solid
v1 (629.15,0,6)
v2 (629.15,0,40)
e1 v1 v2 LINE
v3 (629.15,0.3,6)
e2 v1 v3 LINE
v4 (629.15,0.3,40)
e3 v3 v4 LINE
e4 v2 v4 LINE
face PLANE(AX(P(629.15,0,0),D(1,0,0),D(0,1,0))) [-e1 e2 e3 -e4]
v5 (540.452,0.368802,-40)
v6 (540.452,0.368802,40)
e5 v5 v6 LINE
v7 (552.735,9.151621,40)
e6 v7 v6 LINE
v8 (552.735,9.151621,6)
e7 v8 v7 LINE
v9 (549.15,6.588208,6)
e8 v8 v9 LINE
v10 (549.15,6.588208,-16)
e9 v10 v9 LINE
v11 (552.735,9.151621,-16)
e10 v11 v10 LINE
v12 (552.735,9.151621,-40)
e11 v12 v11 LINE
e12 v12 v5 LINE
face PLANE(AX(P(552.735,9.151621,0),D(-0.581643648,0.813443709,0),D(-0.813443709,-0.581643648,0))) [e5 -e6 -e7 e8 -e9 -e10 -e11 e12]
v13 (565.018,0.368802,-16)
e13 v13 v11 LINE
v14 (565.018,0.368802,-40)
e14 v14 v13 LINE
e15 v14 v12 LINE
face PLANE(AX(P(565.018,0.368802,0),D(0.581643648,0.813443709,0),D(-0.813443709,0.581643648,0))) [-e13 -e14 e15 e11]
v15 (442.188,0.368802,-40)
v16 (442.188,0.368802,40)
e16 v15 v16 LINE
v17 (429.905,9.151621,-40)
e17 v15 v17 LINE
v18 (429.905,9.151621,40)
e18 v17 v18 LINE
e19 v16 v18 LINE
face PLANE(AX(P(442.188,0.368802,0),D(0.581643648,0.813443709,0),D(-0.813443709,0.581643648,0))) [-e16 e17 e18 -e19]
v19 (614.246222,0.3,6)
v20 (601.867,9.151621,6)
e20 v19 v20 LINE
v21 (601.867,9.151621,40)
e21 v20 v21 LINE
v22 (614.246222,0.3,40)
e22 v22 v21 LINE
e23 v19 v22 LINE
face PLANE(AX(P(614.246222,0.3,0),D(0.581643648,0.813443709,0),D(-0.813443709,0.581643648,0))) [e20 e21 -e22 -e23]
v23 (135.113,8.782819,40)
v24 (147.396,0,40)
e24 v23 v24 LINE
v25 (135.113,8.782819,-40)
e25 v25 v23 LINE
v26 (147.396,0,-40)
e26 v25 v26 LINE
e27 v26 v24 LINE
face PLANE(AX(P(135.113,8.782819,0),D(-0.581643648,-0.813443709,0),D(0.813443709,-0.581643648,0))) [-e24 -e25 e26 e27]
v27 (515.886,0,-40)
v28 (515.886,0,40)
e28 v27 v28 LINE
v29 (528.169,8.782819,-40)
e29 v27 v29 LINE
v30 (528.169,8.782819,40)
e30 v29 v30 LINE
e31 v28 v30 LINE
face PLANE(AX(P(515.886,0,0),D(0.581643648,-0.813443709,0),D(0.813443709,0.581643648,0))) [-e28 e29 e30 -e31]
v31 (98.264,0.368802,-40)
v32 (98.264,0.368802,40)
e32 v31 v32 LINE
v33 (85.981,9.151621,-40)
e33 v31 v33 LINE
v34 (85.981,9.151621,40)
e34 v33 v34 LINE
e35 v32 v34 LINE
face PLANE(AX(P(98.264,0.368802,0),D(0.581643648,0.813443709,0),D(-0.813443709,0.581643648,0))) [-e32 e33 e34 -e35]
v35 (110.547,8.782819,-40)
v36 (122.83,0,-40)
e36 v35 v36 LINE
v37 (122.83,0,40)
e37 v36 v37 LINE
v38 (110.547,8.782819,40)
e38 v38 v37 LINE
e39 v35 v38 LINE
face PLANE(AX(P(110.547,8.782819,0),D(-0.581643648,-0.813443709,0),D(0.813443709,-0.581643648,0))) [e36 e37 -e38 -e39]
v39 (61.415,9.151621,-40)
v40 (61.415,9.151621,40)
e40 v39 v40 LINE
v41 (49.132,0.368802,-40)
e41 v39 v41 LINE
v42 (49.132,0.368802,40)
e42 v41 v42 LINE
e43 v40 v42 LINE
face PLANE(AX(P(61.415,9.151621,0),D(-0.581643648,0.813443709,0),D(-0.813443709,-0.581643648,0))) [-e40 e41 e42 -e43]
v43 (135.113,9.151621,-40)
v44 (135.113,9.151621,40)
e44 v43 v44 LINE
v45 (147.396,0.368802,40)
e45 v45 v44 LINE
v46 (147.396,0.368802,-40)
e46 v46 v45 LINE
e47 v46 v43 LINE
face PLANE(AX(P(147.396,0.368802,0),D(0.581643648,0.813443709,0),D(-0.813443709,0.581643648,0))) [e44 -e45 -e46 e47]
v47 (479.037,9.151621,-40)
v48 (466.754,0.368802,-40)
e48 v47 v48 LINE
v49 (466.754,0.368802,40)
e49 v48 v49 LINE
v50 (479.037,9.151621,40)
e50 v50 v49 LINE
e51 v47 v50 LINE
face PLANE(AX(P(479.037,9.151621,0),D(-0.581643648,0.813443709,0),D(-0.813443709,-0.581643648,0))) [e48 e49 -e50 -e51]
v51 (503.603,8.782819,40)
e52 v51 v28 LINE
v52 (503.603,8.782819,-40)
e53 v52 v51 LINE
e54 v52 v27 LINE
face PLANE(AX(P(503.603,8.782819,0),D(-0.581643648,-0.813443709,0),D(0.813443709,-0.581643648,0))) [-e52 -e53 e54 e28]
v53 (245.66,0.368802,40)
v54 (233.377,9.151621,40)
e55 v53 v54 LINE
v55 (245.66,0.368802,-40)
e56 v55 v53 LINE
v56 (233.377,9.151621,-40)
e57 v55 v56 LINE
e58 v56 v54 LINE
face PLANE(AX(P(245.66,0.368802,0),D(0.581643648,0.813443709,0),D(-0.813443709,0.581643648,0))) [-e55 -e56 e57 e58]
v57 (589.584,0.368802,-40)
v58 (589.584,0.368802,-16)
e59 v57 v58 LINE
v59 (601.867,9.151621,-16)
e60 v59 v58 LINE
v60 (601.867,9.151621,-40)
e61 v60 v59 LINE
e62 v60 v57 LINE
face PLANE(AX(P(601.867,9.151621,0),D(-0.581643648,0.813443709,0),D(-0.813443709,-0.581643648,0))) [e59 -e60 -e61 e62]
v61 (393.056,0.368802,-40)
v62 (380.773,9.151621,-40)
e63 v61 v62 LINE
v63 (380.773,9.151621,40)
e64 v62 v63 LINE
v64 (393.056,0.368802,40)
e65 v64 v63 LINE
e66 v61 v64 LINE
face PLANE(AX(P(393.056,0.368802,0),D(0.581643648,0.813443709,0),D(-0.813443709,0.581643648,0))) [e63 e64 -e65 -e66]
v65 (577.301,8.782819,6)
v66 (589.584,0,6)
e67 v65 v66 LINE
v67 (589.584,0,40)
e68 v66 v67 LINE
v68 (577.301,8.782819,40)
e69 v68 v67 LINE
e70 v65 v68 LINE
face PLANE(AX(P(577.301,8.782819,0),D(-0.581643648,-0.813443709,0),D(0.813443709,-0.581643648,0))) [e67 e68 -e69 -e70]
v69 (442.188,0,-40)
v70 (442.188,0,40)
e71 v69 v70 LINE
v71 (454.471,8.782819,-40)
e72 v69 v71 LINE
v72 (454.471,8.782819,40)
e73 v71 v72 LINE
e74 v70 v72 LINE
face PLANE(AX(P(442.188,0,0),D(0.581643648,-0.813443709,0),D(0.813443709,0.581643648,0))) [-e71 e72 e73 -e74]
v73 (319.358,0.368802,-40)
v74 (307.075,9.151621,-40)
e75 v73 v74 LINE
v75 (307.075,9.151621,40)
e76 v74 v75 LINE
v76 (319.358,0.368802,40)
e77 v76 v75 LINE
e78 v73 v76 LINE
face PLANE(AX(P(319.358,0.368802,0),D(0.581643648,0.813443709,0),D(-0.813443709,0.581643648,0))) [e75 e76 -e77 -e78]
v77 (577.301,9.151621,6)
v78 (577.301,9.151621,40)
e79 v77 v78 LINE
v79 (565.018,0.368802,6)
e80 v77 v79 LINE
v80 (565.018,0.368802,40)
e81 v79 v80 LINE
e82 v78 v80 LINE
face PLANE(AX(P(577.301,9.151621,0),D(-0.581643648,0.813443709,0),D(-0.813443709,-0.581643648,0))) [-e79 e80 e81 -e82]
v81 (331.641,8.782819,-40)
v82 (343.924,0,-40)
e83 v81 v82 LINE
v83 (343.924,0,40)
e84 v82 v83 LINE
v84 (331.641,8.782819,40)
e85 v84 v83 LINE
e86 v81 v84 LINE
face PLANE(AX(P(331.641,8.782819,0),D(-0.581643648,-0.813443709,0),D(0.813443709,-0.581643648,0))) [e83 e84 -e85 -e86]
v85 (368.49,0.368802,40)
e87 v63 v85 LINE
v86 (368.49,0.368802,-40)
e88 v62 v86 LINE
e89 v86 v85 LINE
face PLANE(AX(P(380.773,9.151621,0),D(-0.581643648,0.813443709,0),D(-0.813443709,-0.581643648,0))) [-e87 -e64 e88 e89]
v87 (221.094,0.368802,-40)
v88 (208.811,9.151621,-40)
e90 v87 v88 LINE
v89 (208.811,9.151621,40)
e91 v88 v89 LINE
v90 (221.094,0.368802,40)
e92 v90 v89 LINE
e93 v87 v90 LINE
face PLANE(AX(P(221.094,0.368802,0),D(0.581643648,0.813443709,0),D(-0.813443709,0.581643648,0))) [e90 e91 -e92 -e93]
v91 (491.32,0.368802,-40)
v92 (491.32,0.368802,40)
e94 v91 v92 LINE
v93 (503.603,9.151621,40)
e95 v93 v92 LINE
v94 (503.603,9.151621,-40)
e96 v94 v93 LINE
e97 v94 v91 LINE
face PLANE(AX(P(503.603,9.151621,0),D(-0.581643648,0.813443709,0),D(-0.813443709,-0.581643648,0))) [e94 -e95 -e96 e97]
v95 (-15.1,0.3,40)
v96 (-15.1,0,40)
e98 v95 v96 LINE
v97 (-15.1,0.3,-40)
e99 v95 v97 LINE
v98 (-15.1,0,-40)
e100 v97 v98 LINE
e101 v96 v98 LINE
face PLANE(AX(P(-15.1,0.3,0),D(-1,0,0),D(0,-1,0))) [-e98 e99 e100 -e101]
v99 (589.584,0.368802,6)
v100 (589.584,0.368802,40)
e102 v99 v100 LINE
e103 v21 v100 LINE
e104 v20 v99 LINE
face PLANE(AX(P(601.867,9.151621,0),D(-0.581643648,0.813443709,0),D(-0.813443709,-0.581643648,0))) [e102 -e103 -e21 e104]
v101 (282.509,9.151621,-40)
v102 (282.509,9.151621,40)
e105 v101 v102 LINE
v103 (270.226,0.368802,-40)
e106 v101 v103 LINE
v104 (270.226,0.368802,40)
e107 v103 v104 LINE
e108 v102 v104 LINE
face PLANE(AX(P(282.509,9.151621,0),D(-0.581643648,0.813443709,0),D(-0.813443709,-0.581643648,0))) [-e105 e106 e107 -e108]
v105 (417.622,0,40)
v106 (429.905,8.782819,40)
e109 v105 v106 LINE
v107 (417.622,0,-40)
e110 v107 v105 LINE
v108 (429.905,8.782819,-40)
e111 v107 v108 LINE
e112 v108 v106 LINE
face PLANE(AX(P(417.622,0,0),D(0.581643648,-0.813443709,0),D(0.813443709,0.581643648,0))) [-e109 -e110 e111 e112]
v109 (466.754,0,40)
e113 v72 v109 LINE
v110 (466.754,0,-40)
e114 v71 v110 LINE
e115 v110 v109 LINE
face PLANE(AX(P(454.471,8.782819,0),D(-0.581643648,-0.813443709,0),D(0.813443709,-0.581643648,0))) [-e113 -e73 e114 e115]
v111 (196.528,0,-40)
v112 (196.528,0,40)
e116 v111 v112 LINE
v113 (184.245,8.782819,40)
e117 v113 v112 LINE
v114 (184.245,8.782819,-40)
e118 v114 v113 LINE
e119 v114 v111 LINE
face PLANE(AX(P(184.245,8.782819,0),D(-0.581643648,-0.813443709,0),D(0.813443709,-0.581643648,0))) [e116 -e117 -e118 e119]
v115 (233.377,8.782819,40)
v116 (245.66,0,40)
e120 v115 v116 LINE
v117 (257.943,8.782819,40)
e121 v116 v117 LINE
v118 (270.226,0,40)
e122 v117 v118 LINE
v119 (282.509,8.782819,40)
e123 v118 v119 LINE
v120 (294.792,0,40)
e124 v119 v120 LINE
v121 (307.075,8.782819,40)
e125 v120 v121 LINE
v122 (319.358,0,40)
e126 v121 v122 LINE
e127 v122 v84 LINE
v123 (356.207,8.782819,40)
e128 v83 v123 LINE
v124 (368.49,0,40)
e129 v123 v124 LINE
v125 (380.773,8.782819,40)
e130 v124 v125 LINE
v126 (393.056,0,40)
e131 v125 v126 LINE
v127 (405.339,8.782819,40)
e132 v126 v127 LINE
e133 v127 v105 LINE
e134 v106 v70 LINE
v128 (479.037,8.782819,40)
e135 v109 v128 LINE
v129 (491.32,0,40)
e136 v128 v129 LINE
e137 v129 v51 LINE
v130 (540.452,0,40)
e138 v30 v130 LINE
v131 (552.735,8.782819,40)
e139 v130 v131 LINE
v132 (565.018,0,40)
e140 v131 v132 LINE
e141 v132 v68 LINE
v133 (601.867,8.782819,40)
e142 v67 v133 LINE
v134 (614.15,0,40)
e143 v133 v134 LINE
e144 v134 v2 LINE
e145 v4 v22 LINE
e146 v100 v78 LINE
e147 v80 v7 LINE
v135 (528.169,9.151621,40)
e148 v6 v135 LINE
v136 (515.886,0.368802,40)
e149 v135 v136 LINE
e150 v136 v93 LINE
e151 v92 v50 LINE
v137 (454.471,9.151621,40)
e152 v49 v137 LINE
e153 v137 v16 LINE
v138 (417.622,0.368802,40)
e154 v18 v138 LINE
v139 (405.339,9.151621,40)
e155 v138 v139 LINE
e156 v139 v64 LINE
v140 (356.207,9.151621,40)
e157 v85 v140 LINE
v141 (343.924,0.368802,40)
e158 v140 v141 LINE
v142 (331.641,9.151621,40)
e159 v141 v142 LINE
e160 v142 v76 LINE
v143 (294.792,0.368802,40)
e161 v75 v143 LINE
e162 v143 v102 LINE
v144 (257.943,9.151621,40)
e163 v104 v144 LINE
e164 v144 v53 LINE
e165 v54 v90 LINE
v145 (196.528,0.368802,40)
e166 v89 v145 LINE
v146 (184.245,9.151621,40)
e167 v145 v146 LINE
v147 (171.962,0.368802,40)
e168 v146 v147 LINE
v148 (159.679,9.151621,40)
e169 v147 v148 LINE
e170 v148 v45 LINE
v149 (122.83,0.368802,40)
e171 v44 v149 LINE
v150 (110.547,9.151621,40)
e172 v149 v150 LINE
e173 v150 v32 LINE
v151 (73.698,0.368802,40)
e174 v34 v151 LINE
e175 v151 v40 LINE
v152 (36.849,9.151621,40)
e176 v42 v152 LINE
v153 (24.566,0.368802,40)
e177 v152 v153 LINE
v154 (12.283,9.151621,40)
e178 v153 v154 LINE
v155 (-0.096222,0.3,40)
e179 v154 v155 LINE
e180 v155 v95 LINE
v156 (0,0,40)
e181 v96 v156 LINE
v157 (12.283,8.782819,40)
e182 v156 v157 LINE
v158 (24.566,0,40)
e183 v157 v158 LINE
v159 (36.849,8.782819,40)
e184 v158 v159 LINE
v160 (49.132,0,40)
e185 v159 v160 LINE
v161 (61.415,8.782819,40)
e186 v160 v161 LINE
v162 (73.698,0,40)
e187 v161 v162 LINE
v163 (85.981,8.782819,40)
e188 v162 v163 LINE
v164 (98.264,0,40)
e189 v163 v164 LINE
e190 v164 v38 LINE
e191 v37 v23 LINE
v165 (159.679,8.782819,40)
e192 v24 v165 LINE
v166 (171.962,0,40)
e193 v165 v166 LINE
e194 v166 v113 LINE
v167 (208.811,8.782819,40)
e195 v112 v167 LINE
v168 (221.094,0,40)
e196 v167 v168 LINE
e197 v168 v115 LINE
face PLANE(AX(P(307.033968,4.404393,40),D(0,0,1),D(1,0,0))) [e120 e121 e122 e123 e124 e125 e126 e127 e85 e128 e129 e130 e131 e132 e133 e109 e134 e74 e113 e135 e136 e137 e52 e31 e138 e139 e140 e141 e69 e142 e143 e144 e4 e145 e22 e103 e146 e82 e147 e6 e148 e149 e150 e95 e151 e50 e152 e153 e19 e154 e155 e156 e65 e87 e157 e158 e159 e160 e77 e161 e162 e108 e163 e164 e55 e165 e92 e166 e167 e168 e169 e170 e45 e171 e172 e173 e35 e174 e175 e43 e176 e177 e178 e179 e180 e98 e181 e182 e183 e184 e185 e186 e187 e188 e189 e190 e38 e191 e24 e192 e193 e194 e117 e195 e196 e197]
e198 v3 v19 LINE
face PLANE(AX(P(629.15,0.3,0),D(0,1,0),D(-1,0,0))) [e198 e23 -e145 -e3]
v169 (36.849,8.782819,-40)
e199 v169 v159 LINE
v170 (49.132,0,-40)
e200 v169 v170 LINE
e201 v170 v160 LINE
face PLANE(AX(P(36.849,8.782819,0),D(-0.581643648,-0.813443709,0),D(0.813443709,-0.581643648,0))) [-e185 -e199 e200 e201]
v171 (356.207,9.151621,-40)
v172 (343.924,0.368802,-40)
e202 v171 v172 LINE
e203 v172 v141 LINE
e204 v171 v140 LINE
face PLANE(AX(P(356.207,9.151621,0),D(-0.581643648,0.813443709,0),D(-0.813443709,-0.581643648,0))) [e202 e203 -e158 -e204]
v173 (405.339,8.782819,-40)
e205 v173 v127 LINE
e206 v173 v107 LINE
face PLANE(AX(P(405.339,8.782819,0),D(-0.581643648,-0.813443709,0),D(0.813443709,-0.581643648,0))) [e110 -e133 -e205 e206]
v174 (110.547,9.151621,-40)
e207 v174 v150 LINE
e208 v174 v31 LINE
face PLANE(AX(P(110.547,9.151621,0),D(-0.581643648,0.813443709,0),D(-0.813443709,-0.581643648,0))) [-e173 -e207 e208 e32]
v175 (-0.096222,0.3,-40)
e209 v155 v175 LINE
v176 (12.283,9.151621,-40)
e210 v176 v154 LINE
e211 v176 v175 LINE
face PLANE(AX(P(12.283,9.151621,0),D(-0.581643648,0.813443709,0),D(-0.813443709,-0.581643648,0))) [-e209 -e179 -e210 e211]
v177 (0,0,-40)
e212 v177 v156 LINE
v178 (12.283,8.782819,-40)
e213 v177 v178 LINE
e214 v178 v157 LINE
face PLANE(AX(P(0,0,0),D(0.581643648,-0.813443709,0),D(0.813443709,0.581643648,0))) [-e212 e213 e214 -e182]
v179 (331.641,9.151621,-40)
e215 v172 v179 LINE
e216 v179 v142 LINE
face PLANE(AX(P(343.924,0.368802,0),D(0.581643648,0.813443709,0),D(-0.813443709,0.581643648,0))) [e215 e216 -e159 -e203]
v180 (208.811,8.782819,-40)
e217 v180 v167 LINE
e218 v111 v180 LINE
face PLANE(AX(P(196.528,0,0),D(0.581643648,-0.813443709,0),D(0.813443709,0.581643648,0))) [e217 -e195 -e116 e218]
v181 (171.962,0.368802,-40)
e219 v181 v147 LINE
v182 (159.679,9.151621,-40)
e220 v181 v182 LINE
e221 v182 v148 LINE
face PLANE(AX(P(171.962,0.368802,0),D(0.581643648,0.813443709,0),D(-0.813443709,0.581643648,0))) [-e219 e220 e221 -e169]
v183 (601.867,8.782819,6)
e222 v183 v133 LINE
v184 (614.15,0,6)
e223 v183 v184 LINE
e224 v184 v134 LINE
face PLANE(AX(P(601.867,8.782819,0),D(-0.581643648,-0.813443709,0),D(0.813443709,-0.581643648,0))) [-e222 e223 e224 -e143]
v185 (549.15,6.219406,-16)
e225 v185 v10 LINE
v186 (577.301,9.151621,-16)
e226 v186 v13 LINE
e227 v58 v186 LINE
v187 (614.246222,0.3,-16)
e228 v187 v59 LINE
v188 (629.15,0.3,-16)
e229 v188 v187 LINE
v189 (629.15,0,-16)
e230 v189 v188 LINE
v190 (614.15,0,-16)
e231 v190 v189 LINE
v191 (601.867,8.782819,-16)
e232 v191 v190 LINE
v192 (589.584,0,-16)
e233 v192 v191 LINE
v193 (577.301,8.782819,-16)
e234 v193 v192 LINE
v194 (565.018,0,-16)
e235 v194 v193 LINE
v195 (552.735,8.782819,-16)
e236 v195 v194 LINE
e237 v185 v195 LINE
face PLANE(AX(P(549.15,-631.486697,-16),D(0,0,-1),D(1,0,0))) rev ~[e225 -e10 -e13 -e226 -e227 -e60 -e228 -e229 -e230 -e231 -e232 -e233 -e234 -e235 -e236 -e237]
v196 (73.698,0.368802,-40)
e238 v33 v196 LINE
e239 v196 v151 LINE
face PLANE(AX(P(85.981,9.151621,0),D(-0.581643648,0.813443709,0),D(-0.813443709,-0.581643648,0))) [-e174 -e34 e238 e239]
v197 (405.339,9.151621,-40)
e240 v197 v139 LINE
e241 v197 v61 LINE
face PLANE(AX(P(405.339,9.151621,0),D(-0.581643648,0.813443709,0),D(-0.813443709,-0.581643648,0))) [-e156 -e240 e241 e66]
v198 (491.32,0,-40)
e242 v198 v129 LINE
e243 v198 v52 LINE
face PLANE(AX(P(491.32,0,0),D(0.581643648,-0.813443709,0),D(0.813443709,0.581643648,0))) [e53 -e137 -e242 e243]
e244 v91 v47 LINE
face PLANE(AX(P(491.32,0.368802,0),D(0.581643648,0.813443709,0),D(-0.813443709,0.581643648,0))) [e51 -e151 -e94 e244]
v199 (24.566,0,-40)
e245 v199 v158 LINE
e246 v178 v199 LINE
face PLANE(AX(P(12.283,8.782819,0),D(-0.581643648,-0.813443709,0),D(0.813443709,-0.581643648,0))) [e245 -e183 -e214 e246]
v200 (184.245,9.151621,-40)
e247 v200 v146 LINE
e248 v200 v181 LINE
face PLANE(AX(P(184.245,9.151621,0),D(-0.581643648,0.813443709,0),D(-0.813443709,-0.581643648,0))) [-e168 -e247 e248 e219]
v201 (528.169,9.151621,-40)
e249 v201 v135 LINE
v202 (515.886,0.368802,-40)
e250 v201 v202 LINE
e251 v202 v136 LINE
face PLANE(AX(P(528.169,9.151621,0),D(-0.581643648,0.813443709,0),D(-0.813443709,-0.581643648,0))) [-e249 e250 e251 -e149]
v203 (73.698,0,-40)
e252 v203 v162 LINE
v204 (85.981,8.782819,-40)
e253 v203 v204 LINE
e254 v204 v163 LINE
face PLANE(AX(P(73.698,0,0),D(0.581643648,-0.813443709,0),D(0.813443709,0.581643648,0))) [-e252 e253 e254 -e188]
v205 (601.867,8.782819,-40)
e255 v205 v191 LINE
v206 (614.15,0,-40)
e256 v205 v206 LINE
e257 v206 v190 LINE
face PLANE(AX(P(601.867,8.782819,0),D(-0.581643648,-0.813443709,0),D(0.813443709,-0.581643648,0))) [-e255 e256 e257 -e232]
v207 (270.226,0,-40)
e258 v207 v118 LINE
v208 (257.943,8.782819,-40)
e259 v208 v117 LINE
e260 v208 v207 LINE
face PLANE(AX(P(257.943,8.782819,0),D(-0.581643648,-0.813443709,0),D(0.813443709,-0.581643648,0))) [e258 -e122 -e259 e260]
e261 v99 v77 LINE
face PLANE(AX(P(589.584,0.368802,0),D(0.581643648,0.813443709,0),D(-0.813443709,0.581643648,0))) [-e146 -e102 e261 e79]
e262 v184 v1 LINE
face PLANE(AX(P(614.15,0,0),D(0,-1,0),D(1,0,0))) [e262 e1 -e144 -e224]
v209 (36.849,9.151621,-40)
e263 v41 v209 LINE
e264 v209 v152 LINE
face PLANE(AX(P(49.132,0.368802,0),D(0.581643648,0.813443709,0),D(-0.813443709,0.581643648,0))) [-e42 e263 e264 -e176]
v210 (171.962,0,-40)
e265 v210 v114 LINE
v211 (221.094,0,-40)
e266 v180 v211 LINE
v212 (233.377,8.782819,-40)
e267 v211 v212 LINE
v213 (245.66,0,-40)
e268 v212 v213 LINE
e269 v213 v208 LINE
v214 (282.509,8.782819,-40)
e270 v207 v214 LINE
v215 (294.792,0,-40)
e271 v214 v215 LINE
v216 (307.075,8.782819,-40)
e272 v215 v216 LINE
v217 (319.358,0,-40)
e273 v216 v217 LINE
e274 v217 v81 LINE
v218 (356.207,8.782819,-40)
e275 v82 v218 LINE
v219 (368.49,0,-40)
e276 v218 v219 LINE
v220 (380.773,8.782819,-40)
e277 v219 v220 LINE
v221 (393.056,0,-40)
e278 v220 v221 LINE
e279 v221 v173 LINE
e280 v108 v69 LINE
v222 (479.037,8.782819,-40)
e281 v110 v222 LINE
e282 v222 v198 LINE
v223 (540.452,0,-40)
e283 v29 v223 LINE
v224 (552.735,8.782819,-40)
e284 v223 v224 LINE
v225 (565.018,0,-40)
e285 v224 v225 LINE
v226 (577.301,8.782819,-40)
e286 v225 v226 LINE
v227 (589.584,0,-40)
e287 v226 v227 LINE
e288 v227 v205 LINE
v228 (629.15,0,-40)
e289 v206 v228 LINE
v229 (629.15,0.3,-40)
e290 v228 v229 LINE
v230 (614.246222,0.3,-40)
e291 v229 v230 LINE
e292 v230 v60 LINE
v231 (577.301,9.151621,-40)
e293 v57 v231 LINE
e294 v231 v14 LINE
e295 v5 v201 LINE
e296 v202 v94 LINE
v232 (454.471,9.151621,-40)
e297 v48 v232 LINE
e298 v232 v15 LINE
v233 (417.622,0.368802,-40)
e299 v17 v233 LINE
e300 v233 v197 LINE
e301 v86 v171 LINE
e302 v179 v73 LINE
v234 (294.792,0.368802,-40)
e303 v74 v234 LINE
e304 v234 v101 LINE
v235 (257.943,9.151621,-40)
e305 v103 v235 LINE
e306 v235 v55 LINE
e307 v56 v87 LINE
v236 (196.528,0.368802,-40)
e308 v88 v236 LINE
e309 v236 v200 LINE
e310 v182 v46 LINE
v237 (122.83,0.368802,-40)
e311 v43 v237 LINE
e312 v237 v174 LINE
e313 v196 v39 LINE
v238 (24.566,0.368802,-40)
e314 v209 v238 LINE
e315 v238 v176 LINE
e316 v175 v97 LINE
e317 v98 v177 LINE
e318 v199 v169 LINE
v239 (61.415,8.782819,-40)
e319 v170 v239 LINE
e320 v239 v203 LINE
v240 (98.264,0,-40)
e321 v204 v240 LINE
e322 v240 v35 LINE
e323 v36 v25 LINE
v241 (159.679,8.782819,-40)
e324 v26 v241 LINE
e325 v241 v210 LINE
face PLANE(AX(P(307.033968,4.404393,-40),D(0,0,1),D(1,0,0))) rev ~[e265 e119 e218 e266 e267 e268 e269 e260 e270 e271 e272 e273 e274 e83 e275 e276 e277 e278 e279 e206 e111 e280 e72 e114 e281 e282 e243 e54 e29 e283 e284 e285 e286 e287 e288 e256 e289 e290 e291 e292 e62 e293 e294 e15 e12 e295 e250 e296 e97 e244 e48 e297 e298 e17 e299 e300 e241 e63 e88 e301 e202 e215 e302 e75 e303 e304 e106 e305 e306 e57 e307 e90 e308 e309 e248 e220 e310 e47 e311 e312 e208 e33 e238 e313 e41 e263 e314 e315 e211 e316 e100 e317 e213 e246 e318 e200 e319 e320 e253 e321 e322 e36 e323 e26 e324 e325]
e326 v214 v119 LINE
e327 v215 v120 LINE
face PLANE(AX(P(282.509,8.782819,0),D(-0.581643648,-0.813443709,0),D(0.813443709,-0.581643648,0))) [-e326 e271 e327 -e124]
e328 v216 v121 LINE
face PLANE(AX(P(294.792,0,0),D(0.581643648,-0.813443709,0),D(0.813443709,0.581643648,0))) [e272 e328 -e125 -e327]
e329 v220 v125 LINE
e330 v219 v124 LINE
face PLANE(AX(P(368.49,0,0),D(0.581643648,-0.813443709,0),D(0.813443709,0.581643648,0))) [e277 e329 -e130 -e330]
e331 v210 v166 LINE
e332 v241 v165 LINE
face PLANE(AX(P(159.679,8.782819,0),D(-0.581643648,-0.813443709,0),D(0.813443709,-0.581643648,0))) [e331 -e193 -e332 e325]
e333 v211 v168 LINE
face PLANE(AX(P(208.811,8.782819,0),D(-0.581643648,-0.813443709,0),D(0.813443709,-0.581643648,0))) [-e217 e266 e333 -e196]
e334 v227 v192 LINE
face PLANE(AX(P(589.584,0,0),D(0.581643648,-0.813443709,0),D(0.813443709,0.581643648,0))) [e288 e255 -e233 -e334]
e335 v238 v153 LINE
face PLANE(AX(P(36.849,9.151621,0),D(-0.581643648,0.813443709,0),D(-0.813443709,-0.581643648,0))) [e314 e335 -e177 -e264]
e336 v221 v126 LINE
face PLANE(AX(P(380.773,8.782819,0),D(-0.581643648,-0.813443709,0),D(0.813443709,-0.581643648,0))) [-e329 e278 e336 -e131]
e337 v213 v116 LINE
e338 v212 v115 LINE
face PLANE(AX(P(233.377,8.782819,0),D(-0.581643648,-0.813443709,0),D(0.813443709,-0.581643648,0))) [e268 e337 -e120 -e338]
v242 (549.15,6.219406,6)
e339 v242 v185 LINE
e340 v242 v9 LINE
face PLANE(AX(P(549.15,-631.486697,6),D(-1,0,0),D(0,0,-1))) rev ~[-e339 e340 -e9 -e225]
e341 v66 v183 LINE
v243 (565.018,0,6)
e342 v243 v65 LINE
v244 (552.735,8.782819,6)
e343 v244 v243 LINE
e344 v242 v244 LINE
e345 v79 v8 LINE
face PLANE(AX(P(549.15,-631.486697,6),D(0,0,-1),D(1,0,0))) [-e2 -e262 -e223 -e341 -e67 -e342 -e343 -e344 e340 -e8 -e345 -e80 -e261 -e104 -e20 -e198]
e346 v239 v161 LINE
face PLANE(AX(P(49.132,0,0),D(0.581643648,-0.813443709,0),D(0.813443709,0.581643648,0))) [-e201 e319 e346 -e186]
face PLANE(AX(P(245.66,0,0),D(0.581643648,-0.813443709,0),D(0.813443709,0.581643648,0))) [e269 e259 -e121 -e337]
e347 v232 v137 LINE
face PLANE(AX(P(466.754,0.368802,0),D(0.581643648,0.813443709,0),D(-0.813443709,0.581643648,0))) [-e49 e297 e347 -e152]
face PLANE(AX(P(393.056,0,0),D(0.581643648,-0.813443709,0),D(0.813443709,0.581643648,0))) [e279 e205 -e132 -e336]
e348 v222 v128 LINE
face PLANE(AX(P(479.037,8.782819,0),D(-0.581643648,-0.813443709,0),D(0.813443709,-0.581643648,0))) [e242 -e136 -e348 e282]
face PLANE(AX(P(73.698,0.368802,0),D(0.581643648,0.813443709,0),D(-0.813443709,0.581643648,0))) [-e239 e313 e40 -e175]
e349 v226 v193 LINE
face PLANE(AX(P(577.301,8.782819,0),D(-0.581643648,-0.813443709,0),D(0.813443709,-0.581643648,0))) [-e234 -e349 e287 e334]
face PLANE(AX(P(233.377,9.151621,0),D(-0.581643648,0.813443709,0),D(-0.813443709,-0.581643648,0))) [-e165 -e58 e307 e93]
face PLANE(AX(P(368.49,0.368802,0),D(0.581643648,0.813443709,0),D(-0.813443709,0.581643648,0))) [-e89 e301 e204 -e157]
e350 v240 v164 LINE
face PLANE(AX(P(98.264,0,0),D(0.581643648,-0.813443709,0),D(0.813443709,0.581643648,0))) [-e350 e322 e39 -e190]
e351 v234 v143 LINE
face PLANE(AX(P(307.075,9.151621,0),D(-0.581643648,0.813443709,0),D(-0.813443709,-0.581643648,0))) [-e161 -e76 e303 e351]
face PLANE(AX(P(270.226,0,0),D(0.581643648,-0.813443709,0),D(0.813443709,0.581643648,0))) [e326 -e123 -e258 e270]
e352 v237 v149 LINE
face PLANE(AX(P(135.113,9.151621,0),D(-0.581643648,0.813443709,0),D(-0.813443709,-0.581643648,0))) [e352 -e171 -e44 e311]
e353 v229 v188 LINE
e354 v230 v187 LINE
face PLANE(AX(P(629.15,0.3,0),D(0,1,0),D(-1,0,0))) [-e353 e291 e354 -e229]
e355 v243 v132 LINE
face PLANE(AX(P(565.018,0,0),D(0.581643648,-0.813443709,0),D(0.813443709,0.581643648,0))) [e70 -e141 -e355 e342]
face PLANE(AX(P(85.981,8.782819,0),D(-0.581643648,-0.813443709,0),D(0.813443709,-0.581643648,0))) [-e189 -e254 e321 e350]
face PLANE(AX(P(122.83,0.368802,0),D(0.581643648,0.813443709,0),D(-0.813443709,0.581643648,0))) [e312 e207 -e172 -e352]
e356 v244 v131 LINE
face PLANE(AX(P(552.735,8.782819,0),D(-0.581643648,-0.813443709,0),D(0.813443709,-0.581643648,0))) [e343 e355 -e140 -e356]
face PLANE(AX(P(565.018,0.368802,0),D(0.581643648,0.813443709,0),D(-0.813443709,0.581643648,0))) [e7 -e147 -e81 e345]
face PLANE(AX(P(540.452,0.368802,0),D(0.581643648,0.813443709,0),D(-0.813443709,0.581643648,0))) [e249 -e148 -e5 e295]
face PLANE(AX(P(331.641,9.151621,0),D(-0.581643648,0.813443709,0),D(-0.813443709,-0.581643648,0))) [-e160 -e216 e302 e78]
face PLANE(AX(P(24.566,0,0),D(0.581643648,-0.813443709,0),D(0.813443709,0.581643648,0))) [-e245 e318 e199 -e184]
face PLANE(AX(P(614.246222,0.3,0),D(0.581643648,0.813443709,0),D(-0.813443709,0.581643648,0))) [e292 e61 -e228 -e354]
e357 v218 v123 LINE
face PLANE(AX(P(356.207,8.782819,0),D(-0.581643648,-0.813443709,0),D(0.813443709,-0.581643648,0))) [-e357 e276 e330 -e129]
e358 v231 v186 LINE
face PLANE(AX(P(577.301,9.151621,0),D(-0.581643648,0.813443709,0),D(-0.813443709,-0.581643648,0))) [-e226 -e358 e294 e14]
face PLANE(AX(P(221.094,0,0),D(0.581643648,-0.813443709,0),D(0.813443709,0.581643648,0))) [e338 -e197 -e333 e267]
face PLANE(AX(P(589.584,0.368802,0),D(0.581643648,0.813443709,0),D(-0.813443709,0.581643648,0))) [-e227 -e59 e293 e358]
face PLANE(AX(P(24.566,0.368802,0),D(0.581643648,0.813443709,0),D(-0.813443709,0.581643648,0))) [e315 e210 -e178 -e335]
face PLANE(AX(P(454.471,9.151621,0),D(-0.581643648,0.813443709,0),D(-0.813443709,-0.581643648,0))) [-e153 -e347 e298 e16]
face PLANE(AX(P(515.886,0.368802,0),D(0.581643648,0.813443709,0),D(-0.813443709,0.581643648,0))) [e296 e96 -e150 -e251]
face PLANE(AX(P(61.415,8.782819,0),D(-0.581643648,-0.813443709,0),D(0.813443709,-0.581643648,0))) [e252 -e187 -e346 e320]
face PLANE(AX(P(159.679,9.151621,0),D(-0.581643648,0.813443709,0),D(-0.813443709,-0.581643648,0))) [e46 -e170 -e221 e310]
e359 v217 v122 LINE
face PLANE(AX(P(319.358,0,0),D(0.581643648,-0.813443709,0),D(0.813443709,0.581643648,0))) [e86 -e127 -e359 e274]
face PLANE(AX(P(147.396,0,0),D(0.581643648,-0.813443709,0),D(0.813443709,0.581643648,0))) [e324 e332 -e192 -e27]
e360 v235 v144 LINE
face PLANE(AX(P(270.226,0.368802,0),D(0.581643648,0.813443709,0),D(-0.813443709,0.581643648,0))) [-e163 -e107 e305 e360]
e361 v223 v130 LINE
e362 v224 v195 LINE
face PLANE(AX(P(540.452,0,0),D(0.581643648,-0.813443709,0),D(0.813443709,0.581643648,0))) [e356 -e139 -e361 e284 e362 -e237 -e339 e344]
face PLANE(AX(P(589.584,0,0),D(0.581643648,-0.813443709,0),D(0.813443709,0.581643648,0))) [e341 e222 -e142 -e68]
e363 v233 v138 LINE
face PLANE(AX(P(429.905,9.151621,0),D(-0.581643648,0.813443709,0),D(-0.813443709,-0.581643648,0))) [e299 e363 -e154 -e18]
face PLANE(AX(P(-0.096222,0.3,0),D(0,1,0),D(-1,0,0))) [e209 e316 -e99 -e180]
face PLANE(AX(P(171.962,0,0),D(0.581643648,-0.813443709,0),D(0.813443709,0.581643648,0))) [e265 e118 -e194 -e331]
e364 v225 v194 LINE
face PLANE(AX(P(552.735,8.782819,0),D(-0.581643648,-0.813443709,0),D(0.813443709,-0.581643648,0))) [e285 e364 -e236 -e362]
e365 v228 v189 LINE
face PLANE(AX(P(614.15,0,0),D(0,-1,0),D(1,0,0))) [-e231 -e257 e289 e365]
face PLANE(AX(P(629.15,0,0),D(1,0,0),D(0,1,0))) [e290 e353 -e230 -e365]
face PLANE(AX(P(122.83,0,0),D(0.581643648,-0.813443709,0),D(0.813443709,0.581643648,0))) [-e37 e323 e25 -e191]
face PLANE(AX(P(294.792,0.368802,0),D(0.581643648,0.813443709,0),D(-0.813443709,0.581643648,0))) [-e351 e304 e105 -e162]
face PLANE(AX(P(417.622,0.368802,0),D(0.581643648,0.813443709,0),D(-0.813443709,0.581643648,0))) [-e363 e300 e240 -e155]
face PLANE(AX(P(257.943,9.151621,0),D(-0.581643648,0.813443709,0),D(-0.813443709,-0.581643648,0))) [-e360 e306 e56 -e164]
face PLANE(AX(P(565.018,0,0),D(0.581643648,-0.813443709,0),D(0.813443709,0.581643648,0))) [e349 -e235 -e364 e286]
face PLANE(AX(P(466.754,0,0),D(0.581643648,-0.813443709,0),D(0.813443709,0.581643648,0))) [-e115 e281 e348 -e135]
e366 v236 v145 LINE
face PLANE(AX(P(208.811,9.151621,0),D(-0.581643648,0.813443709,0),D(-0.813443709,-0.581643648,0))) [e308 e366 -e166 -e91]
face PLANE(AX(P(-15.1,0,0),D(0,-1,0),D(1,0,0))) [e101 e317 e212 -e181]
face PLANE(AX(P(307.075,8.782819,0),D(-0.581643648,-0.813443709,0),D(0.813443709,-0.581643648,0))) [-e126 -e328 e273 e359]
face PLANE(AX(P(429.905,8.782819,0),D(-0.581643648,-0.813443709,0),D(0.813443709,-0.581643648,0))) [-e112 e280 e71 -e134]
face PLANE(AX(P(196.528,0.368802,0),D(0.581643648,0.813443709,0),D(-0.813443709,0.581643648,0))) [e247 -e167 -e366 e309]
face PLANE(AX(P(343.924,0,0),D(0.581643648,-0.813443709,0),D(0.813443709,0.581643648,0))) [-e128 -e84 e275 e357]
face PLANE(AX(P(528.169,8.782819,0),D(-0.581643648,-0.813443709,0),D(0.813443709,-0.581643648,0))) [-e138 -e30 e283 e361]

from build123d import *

# Parameters (mm, degrees)
EXTRUDE_THIN1_DEPTH     = 40
CUT_EXTRUDE4_DEPTH      = 631.486696668
CUT_EXTRUDE4_DEPTH_BACK = 631.486696668
SKETCH2_W               = 80
SKETCH2_H               = 22


with BuildPart() as part:
    # Sketch1 → Extrude-Thin1 (new, symmetric)
    with BuildSketch(Plane.XY):
        Polygon((-15.1, 0), (0, 0), (12.283, 8.78281908), (24.566, 0), (36.849, 8.78281908), (49.132, 0), (61.415, 8.78281908), (73.698, 0), (85.981, 8.78281908), (98.264, 0), (110.547, 8.78281908), (122.83, 0), (135.113, 8.78281908), (147.396, 0), (159.679, 8.78281908), (171.962, 0), (184.245, 8.78281908), (196.528, 0), (208.811, 8.78281908), (221.094, 0), (233.377, 8.78281908), (245.66, 0), (257.943, 8.78281908), (270.226, 0), (282.509, 8.78281908), (294.792, 0), (307.075, 8.78281908), (319.358, 0), (331.641, 8.78281908), (343.924, 0), (356.207, 8.78281908), (368.49, 0), (380.773, 8.78281908), (393.056, 0), (405.339, 8.78281908), (417.622, 0), (429.905, 8.78281908), (442.188, 0), (454.471, 8.78281908), (466.754, 0), (479.037, 8.78281908), (491.32, 0), (503.603, 8.78281908), (515.886, 0), (528.169, 8.78281908), (540.452, 0), (552.735, 8.78281908), (565.018, 0), (577.301, 8.78281908), (589.584, 0), (601.867, 8.78281908), (614.15, 0), (629.15, 0), (629.15, 0.3), (614.246221952, 0.3), (601.867, 9.15162149), (589.584, 0.36880241), (577.301, 9.15162149), (565.018, 0.36880241), (552.735, 9.15162149), (540.452, 0.36880241), (528.169, 9.15162149), (515.886, 0.36880241), (503.603, 9.15162149), (491.32, 0.36880241), (479.037, 9.15162149), (466.754, 0.36880241), (454.471, 9.15162149), (442.188, 0.36880241), (429.905, 9.15162149), (417.622, 0.36880241), (405.339, 9.15162149), (393.056, 0.36880241), (380.773, 9.15162149), (368.49, 0.36880241), (356.207, 9.15162149), (343.924, 0.36880241), (331.641, 9.15162149), (319.358, 0.36880241), (307.075, 9.15162149), (294.792, 0.36880241), (282.509, 9.15162149), (270.226, 0.36880241), (257.943, 9.15162149), (245.66, 0.36880241), (233.377, 9.15162149), (221.094, 0.36880241), (208.811, 9.15162149), (196.528, 0.36880241), (184.245, 9.15162149), (171.962, 0.36880241), (159.679, 9.15162149), (147.396, 0.36880241), (135.113, 9.15162149), (122.83, 0.36880241), (110.547, 9.15162149), (98.264, 0.36880241), (85.981, 9.15162149), (73.698, 0.36880241), (61.415, 9.15162149), (49.132, 0.36880241), (36.849, 9.15162149), (24.566, 0.36880241), (12.283, 9.15162149), (-0.096221952, 0.3), (-15.1, 0.3), align=None)
    extrude(amount=EXTRUDE_THIN1_DEPTH, both=True)

    # Sketch2 → Cut-Extrude4 (cut, two sides: drawn at the far end of the back side and taken through both)
    with BuildSketch(Plane(origin=(0, 0, 0), x_dir=(1, 0, 0), z_dir=(0, 1, 0)).offset(-CUT_EXTRUDE4_DEPTH_BACK)):
        with Locations((589.15, 5)):
            Rectangle(SKETCH2_W, SKETCH2_H)
    extrude(amount=CUT_EXTRUDE4_DEPTH + CUT_EXTRUDE4_DEPTH_BACK, mode=Mode.SUBTRACT)


solid = part.part
